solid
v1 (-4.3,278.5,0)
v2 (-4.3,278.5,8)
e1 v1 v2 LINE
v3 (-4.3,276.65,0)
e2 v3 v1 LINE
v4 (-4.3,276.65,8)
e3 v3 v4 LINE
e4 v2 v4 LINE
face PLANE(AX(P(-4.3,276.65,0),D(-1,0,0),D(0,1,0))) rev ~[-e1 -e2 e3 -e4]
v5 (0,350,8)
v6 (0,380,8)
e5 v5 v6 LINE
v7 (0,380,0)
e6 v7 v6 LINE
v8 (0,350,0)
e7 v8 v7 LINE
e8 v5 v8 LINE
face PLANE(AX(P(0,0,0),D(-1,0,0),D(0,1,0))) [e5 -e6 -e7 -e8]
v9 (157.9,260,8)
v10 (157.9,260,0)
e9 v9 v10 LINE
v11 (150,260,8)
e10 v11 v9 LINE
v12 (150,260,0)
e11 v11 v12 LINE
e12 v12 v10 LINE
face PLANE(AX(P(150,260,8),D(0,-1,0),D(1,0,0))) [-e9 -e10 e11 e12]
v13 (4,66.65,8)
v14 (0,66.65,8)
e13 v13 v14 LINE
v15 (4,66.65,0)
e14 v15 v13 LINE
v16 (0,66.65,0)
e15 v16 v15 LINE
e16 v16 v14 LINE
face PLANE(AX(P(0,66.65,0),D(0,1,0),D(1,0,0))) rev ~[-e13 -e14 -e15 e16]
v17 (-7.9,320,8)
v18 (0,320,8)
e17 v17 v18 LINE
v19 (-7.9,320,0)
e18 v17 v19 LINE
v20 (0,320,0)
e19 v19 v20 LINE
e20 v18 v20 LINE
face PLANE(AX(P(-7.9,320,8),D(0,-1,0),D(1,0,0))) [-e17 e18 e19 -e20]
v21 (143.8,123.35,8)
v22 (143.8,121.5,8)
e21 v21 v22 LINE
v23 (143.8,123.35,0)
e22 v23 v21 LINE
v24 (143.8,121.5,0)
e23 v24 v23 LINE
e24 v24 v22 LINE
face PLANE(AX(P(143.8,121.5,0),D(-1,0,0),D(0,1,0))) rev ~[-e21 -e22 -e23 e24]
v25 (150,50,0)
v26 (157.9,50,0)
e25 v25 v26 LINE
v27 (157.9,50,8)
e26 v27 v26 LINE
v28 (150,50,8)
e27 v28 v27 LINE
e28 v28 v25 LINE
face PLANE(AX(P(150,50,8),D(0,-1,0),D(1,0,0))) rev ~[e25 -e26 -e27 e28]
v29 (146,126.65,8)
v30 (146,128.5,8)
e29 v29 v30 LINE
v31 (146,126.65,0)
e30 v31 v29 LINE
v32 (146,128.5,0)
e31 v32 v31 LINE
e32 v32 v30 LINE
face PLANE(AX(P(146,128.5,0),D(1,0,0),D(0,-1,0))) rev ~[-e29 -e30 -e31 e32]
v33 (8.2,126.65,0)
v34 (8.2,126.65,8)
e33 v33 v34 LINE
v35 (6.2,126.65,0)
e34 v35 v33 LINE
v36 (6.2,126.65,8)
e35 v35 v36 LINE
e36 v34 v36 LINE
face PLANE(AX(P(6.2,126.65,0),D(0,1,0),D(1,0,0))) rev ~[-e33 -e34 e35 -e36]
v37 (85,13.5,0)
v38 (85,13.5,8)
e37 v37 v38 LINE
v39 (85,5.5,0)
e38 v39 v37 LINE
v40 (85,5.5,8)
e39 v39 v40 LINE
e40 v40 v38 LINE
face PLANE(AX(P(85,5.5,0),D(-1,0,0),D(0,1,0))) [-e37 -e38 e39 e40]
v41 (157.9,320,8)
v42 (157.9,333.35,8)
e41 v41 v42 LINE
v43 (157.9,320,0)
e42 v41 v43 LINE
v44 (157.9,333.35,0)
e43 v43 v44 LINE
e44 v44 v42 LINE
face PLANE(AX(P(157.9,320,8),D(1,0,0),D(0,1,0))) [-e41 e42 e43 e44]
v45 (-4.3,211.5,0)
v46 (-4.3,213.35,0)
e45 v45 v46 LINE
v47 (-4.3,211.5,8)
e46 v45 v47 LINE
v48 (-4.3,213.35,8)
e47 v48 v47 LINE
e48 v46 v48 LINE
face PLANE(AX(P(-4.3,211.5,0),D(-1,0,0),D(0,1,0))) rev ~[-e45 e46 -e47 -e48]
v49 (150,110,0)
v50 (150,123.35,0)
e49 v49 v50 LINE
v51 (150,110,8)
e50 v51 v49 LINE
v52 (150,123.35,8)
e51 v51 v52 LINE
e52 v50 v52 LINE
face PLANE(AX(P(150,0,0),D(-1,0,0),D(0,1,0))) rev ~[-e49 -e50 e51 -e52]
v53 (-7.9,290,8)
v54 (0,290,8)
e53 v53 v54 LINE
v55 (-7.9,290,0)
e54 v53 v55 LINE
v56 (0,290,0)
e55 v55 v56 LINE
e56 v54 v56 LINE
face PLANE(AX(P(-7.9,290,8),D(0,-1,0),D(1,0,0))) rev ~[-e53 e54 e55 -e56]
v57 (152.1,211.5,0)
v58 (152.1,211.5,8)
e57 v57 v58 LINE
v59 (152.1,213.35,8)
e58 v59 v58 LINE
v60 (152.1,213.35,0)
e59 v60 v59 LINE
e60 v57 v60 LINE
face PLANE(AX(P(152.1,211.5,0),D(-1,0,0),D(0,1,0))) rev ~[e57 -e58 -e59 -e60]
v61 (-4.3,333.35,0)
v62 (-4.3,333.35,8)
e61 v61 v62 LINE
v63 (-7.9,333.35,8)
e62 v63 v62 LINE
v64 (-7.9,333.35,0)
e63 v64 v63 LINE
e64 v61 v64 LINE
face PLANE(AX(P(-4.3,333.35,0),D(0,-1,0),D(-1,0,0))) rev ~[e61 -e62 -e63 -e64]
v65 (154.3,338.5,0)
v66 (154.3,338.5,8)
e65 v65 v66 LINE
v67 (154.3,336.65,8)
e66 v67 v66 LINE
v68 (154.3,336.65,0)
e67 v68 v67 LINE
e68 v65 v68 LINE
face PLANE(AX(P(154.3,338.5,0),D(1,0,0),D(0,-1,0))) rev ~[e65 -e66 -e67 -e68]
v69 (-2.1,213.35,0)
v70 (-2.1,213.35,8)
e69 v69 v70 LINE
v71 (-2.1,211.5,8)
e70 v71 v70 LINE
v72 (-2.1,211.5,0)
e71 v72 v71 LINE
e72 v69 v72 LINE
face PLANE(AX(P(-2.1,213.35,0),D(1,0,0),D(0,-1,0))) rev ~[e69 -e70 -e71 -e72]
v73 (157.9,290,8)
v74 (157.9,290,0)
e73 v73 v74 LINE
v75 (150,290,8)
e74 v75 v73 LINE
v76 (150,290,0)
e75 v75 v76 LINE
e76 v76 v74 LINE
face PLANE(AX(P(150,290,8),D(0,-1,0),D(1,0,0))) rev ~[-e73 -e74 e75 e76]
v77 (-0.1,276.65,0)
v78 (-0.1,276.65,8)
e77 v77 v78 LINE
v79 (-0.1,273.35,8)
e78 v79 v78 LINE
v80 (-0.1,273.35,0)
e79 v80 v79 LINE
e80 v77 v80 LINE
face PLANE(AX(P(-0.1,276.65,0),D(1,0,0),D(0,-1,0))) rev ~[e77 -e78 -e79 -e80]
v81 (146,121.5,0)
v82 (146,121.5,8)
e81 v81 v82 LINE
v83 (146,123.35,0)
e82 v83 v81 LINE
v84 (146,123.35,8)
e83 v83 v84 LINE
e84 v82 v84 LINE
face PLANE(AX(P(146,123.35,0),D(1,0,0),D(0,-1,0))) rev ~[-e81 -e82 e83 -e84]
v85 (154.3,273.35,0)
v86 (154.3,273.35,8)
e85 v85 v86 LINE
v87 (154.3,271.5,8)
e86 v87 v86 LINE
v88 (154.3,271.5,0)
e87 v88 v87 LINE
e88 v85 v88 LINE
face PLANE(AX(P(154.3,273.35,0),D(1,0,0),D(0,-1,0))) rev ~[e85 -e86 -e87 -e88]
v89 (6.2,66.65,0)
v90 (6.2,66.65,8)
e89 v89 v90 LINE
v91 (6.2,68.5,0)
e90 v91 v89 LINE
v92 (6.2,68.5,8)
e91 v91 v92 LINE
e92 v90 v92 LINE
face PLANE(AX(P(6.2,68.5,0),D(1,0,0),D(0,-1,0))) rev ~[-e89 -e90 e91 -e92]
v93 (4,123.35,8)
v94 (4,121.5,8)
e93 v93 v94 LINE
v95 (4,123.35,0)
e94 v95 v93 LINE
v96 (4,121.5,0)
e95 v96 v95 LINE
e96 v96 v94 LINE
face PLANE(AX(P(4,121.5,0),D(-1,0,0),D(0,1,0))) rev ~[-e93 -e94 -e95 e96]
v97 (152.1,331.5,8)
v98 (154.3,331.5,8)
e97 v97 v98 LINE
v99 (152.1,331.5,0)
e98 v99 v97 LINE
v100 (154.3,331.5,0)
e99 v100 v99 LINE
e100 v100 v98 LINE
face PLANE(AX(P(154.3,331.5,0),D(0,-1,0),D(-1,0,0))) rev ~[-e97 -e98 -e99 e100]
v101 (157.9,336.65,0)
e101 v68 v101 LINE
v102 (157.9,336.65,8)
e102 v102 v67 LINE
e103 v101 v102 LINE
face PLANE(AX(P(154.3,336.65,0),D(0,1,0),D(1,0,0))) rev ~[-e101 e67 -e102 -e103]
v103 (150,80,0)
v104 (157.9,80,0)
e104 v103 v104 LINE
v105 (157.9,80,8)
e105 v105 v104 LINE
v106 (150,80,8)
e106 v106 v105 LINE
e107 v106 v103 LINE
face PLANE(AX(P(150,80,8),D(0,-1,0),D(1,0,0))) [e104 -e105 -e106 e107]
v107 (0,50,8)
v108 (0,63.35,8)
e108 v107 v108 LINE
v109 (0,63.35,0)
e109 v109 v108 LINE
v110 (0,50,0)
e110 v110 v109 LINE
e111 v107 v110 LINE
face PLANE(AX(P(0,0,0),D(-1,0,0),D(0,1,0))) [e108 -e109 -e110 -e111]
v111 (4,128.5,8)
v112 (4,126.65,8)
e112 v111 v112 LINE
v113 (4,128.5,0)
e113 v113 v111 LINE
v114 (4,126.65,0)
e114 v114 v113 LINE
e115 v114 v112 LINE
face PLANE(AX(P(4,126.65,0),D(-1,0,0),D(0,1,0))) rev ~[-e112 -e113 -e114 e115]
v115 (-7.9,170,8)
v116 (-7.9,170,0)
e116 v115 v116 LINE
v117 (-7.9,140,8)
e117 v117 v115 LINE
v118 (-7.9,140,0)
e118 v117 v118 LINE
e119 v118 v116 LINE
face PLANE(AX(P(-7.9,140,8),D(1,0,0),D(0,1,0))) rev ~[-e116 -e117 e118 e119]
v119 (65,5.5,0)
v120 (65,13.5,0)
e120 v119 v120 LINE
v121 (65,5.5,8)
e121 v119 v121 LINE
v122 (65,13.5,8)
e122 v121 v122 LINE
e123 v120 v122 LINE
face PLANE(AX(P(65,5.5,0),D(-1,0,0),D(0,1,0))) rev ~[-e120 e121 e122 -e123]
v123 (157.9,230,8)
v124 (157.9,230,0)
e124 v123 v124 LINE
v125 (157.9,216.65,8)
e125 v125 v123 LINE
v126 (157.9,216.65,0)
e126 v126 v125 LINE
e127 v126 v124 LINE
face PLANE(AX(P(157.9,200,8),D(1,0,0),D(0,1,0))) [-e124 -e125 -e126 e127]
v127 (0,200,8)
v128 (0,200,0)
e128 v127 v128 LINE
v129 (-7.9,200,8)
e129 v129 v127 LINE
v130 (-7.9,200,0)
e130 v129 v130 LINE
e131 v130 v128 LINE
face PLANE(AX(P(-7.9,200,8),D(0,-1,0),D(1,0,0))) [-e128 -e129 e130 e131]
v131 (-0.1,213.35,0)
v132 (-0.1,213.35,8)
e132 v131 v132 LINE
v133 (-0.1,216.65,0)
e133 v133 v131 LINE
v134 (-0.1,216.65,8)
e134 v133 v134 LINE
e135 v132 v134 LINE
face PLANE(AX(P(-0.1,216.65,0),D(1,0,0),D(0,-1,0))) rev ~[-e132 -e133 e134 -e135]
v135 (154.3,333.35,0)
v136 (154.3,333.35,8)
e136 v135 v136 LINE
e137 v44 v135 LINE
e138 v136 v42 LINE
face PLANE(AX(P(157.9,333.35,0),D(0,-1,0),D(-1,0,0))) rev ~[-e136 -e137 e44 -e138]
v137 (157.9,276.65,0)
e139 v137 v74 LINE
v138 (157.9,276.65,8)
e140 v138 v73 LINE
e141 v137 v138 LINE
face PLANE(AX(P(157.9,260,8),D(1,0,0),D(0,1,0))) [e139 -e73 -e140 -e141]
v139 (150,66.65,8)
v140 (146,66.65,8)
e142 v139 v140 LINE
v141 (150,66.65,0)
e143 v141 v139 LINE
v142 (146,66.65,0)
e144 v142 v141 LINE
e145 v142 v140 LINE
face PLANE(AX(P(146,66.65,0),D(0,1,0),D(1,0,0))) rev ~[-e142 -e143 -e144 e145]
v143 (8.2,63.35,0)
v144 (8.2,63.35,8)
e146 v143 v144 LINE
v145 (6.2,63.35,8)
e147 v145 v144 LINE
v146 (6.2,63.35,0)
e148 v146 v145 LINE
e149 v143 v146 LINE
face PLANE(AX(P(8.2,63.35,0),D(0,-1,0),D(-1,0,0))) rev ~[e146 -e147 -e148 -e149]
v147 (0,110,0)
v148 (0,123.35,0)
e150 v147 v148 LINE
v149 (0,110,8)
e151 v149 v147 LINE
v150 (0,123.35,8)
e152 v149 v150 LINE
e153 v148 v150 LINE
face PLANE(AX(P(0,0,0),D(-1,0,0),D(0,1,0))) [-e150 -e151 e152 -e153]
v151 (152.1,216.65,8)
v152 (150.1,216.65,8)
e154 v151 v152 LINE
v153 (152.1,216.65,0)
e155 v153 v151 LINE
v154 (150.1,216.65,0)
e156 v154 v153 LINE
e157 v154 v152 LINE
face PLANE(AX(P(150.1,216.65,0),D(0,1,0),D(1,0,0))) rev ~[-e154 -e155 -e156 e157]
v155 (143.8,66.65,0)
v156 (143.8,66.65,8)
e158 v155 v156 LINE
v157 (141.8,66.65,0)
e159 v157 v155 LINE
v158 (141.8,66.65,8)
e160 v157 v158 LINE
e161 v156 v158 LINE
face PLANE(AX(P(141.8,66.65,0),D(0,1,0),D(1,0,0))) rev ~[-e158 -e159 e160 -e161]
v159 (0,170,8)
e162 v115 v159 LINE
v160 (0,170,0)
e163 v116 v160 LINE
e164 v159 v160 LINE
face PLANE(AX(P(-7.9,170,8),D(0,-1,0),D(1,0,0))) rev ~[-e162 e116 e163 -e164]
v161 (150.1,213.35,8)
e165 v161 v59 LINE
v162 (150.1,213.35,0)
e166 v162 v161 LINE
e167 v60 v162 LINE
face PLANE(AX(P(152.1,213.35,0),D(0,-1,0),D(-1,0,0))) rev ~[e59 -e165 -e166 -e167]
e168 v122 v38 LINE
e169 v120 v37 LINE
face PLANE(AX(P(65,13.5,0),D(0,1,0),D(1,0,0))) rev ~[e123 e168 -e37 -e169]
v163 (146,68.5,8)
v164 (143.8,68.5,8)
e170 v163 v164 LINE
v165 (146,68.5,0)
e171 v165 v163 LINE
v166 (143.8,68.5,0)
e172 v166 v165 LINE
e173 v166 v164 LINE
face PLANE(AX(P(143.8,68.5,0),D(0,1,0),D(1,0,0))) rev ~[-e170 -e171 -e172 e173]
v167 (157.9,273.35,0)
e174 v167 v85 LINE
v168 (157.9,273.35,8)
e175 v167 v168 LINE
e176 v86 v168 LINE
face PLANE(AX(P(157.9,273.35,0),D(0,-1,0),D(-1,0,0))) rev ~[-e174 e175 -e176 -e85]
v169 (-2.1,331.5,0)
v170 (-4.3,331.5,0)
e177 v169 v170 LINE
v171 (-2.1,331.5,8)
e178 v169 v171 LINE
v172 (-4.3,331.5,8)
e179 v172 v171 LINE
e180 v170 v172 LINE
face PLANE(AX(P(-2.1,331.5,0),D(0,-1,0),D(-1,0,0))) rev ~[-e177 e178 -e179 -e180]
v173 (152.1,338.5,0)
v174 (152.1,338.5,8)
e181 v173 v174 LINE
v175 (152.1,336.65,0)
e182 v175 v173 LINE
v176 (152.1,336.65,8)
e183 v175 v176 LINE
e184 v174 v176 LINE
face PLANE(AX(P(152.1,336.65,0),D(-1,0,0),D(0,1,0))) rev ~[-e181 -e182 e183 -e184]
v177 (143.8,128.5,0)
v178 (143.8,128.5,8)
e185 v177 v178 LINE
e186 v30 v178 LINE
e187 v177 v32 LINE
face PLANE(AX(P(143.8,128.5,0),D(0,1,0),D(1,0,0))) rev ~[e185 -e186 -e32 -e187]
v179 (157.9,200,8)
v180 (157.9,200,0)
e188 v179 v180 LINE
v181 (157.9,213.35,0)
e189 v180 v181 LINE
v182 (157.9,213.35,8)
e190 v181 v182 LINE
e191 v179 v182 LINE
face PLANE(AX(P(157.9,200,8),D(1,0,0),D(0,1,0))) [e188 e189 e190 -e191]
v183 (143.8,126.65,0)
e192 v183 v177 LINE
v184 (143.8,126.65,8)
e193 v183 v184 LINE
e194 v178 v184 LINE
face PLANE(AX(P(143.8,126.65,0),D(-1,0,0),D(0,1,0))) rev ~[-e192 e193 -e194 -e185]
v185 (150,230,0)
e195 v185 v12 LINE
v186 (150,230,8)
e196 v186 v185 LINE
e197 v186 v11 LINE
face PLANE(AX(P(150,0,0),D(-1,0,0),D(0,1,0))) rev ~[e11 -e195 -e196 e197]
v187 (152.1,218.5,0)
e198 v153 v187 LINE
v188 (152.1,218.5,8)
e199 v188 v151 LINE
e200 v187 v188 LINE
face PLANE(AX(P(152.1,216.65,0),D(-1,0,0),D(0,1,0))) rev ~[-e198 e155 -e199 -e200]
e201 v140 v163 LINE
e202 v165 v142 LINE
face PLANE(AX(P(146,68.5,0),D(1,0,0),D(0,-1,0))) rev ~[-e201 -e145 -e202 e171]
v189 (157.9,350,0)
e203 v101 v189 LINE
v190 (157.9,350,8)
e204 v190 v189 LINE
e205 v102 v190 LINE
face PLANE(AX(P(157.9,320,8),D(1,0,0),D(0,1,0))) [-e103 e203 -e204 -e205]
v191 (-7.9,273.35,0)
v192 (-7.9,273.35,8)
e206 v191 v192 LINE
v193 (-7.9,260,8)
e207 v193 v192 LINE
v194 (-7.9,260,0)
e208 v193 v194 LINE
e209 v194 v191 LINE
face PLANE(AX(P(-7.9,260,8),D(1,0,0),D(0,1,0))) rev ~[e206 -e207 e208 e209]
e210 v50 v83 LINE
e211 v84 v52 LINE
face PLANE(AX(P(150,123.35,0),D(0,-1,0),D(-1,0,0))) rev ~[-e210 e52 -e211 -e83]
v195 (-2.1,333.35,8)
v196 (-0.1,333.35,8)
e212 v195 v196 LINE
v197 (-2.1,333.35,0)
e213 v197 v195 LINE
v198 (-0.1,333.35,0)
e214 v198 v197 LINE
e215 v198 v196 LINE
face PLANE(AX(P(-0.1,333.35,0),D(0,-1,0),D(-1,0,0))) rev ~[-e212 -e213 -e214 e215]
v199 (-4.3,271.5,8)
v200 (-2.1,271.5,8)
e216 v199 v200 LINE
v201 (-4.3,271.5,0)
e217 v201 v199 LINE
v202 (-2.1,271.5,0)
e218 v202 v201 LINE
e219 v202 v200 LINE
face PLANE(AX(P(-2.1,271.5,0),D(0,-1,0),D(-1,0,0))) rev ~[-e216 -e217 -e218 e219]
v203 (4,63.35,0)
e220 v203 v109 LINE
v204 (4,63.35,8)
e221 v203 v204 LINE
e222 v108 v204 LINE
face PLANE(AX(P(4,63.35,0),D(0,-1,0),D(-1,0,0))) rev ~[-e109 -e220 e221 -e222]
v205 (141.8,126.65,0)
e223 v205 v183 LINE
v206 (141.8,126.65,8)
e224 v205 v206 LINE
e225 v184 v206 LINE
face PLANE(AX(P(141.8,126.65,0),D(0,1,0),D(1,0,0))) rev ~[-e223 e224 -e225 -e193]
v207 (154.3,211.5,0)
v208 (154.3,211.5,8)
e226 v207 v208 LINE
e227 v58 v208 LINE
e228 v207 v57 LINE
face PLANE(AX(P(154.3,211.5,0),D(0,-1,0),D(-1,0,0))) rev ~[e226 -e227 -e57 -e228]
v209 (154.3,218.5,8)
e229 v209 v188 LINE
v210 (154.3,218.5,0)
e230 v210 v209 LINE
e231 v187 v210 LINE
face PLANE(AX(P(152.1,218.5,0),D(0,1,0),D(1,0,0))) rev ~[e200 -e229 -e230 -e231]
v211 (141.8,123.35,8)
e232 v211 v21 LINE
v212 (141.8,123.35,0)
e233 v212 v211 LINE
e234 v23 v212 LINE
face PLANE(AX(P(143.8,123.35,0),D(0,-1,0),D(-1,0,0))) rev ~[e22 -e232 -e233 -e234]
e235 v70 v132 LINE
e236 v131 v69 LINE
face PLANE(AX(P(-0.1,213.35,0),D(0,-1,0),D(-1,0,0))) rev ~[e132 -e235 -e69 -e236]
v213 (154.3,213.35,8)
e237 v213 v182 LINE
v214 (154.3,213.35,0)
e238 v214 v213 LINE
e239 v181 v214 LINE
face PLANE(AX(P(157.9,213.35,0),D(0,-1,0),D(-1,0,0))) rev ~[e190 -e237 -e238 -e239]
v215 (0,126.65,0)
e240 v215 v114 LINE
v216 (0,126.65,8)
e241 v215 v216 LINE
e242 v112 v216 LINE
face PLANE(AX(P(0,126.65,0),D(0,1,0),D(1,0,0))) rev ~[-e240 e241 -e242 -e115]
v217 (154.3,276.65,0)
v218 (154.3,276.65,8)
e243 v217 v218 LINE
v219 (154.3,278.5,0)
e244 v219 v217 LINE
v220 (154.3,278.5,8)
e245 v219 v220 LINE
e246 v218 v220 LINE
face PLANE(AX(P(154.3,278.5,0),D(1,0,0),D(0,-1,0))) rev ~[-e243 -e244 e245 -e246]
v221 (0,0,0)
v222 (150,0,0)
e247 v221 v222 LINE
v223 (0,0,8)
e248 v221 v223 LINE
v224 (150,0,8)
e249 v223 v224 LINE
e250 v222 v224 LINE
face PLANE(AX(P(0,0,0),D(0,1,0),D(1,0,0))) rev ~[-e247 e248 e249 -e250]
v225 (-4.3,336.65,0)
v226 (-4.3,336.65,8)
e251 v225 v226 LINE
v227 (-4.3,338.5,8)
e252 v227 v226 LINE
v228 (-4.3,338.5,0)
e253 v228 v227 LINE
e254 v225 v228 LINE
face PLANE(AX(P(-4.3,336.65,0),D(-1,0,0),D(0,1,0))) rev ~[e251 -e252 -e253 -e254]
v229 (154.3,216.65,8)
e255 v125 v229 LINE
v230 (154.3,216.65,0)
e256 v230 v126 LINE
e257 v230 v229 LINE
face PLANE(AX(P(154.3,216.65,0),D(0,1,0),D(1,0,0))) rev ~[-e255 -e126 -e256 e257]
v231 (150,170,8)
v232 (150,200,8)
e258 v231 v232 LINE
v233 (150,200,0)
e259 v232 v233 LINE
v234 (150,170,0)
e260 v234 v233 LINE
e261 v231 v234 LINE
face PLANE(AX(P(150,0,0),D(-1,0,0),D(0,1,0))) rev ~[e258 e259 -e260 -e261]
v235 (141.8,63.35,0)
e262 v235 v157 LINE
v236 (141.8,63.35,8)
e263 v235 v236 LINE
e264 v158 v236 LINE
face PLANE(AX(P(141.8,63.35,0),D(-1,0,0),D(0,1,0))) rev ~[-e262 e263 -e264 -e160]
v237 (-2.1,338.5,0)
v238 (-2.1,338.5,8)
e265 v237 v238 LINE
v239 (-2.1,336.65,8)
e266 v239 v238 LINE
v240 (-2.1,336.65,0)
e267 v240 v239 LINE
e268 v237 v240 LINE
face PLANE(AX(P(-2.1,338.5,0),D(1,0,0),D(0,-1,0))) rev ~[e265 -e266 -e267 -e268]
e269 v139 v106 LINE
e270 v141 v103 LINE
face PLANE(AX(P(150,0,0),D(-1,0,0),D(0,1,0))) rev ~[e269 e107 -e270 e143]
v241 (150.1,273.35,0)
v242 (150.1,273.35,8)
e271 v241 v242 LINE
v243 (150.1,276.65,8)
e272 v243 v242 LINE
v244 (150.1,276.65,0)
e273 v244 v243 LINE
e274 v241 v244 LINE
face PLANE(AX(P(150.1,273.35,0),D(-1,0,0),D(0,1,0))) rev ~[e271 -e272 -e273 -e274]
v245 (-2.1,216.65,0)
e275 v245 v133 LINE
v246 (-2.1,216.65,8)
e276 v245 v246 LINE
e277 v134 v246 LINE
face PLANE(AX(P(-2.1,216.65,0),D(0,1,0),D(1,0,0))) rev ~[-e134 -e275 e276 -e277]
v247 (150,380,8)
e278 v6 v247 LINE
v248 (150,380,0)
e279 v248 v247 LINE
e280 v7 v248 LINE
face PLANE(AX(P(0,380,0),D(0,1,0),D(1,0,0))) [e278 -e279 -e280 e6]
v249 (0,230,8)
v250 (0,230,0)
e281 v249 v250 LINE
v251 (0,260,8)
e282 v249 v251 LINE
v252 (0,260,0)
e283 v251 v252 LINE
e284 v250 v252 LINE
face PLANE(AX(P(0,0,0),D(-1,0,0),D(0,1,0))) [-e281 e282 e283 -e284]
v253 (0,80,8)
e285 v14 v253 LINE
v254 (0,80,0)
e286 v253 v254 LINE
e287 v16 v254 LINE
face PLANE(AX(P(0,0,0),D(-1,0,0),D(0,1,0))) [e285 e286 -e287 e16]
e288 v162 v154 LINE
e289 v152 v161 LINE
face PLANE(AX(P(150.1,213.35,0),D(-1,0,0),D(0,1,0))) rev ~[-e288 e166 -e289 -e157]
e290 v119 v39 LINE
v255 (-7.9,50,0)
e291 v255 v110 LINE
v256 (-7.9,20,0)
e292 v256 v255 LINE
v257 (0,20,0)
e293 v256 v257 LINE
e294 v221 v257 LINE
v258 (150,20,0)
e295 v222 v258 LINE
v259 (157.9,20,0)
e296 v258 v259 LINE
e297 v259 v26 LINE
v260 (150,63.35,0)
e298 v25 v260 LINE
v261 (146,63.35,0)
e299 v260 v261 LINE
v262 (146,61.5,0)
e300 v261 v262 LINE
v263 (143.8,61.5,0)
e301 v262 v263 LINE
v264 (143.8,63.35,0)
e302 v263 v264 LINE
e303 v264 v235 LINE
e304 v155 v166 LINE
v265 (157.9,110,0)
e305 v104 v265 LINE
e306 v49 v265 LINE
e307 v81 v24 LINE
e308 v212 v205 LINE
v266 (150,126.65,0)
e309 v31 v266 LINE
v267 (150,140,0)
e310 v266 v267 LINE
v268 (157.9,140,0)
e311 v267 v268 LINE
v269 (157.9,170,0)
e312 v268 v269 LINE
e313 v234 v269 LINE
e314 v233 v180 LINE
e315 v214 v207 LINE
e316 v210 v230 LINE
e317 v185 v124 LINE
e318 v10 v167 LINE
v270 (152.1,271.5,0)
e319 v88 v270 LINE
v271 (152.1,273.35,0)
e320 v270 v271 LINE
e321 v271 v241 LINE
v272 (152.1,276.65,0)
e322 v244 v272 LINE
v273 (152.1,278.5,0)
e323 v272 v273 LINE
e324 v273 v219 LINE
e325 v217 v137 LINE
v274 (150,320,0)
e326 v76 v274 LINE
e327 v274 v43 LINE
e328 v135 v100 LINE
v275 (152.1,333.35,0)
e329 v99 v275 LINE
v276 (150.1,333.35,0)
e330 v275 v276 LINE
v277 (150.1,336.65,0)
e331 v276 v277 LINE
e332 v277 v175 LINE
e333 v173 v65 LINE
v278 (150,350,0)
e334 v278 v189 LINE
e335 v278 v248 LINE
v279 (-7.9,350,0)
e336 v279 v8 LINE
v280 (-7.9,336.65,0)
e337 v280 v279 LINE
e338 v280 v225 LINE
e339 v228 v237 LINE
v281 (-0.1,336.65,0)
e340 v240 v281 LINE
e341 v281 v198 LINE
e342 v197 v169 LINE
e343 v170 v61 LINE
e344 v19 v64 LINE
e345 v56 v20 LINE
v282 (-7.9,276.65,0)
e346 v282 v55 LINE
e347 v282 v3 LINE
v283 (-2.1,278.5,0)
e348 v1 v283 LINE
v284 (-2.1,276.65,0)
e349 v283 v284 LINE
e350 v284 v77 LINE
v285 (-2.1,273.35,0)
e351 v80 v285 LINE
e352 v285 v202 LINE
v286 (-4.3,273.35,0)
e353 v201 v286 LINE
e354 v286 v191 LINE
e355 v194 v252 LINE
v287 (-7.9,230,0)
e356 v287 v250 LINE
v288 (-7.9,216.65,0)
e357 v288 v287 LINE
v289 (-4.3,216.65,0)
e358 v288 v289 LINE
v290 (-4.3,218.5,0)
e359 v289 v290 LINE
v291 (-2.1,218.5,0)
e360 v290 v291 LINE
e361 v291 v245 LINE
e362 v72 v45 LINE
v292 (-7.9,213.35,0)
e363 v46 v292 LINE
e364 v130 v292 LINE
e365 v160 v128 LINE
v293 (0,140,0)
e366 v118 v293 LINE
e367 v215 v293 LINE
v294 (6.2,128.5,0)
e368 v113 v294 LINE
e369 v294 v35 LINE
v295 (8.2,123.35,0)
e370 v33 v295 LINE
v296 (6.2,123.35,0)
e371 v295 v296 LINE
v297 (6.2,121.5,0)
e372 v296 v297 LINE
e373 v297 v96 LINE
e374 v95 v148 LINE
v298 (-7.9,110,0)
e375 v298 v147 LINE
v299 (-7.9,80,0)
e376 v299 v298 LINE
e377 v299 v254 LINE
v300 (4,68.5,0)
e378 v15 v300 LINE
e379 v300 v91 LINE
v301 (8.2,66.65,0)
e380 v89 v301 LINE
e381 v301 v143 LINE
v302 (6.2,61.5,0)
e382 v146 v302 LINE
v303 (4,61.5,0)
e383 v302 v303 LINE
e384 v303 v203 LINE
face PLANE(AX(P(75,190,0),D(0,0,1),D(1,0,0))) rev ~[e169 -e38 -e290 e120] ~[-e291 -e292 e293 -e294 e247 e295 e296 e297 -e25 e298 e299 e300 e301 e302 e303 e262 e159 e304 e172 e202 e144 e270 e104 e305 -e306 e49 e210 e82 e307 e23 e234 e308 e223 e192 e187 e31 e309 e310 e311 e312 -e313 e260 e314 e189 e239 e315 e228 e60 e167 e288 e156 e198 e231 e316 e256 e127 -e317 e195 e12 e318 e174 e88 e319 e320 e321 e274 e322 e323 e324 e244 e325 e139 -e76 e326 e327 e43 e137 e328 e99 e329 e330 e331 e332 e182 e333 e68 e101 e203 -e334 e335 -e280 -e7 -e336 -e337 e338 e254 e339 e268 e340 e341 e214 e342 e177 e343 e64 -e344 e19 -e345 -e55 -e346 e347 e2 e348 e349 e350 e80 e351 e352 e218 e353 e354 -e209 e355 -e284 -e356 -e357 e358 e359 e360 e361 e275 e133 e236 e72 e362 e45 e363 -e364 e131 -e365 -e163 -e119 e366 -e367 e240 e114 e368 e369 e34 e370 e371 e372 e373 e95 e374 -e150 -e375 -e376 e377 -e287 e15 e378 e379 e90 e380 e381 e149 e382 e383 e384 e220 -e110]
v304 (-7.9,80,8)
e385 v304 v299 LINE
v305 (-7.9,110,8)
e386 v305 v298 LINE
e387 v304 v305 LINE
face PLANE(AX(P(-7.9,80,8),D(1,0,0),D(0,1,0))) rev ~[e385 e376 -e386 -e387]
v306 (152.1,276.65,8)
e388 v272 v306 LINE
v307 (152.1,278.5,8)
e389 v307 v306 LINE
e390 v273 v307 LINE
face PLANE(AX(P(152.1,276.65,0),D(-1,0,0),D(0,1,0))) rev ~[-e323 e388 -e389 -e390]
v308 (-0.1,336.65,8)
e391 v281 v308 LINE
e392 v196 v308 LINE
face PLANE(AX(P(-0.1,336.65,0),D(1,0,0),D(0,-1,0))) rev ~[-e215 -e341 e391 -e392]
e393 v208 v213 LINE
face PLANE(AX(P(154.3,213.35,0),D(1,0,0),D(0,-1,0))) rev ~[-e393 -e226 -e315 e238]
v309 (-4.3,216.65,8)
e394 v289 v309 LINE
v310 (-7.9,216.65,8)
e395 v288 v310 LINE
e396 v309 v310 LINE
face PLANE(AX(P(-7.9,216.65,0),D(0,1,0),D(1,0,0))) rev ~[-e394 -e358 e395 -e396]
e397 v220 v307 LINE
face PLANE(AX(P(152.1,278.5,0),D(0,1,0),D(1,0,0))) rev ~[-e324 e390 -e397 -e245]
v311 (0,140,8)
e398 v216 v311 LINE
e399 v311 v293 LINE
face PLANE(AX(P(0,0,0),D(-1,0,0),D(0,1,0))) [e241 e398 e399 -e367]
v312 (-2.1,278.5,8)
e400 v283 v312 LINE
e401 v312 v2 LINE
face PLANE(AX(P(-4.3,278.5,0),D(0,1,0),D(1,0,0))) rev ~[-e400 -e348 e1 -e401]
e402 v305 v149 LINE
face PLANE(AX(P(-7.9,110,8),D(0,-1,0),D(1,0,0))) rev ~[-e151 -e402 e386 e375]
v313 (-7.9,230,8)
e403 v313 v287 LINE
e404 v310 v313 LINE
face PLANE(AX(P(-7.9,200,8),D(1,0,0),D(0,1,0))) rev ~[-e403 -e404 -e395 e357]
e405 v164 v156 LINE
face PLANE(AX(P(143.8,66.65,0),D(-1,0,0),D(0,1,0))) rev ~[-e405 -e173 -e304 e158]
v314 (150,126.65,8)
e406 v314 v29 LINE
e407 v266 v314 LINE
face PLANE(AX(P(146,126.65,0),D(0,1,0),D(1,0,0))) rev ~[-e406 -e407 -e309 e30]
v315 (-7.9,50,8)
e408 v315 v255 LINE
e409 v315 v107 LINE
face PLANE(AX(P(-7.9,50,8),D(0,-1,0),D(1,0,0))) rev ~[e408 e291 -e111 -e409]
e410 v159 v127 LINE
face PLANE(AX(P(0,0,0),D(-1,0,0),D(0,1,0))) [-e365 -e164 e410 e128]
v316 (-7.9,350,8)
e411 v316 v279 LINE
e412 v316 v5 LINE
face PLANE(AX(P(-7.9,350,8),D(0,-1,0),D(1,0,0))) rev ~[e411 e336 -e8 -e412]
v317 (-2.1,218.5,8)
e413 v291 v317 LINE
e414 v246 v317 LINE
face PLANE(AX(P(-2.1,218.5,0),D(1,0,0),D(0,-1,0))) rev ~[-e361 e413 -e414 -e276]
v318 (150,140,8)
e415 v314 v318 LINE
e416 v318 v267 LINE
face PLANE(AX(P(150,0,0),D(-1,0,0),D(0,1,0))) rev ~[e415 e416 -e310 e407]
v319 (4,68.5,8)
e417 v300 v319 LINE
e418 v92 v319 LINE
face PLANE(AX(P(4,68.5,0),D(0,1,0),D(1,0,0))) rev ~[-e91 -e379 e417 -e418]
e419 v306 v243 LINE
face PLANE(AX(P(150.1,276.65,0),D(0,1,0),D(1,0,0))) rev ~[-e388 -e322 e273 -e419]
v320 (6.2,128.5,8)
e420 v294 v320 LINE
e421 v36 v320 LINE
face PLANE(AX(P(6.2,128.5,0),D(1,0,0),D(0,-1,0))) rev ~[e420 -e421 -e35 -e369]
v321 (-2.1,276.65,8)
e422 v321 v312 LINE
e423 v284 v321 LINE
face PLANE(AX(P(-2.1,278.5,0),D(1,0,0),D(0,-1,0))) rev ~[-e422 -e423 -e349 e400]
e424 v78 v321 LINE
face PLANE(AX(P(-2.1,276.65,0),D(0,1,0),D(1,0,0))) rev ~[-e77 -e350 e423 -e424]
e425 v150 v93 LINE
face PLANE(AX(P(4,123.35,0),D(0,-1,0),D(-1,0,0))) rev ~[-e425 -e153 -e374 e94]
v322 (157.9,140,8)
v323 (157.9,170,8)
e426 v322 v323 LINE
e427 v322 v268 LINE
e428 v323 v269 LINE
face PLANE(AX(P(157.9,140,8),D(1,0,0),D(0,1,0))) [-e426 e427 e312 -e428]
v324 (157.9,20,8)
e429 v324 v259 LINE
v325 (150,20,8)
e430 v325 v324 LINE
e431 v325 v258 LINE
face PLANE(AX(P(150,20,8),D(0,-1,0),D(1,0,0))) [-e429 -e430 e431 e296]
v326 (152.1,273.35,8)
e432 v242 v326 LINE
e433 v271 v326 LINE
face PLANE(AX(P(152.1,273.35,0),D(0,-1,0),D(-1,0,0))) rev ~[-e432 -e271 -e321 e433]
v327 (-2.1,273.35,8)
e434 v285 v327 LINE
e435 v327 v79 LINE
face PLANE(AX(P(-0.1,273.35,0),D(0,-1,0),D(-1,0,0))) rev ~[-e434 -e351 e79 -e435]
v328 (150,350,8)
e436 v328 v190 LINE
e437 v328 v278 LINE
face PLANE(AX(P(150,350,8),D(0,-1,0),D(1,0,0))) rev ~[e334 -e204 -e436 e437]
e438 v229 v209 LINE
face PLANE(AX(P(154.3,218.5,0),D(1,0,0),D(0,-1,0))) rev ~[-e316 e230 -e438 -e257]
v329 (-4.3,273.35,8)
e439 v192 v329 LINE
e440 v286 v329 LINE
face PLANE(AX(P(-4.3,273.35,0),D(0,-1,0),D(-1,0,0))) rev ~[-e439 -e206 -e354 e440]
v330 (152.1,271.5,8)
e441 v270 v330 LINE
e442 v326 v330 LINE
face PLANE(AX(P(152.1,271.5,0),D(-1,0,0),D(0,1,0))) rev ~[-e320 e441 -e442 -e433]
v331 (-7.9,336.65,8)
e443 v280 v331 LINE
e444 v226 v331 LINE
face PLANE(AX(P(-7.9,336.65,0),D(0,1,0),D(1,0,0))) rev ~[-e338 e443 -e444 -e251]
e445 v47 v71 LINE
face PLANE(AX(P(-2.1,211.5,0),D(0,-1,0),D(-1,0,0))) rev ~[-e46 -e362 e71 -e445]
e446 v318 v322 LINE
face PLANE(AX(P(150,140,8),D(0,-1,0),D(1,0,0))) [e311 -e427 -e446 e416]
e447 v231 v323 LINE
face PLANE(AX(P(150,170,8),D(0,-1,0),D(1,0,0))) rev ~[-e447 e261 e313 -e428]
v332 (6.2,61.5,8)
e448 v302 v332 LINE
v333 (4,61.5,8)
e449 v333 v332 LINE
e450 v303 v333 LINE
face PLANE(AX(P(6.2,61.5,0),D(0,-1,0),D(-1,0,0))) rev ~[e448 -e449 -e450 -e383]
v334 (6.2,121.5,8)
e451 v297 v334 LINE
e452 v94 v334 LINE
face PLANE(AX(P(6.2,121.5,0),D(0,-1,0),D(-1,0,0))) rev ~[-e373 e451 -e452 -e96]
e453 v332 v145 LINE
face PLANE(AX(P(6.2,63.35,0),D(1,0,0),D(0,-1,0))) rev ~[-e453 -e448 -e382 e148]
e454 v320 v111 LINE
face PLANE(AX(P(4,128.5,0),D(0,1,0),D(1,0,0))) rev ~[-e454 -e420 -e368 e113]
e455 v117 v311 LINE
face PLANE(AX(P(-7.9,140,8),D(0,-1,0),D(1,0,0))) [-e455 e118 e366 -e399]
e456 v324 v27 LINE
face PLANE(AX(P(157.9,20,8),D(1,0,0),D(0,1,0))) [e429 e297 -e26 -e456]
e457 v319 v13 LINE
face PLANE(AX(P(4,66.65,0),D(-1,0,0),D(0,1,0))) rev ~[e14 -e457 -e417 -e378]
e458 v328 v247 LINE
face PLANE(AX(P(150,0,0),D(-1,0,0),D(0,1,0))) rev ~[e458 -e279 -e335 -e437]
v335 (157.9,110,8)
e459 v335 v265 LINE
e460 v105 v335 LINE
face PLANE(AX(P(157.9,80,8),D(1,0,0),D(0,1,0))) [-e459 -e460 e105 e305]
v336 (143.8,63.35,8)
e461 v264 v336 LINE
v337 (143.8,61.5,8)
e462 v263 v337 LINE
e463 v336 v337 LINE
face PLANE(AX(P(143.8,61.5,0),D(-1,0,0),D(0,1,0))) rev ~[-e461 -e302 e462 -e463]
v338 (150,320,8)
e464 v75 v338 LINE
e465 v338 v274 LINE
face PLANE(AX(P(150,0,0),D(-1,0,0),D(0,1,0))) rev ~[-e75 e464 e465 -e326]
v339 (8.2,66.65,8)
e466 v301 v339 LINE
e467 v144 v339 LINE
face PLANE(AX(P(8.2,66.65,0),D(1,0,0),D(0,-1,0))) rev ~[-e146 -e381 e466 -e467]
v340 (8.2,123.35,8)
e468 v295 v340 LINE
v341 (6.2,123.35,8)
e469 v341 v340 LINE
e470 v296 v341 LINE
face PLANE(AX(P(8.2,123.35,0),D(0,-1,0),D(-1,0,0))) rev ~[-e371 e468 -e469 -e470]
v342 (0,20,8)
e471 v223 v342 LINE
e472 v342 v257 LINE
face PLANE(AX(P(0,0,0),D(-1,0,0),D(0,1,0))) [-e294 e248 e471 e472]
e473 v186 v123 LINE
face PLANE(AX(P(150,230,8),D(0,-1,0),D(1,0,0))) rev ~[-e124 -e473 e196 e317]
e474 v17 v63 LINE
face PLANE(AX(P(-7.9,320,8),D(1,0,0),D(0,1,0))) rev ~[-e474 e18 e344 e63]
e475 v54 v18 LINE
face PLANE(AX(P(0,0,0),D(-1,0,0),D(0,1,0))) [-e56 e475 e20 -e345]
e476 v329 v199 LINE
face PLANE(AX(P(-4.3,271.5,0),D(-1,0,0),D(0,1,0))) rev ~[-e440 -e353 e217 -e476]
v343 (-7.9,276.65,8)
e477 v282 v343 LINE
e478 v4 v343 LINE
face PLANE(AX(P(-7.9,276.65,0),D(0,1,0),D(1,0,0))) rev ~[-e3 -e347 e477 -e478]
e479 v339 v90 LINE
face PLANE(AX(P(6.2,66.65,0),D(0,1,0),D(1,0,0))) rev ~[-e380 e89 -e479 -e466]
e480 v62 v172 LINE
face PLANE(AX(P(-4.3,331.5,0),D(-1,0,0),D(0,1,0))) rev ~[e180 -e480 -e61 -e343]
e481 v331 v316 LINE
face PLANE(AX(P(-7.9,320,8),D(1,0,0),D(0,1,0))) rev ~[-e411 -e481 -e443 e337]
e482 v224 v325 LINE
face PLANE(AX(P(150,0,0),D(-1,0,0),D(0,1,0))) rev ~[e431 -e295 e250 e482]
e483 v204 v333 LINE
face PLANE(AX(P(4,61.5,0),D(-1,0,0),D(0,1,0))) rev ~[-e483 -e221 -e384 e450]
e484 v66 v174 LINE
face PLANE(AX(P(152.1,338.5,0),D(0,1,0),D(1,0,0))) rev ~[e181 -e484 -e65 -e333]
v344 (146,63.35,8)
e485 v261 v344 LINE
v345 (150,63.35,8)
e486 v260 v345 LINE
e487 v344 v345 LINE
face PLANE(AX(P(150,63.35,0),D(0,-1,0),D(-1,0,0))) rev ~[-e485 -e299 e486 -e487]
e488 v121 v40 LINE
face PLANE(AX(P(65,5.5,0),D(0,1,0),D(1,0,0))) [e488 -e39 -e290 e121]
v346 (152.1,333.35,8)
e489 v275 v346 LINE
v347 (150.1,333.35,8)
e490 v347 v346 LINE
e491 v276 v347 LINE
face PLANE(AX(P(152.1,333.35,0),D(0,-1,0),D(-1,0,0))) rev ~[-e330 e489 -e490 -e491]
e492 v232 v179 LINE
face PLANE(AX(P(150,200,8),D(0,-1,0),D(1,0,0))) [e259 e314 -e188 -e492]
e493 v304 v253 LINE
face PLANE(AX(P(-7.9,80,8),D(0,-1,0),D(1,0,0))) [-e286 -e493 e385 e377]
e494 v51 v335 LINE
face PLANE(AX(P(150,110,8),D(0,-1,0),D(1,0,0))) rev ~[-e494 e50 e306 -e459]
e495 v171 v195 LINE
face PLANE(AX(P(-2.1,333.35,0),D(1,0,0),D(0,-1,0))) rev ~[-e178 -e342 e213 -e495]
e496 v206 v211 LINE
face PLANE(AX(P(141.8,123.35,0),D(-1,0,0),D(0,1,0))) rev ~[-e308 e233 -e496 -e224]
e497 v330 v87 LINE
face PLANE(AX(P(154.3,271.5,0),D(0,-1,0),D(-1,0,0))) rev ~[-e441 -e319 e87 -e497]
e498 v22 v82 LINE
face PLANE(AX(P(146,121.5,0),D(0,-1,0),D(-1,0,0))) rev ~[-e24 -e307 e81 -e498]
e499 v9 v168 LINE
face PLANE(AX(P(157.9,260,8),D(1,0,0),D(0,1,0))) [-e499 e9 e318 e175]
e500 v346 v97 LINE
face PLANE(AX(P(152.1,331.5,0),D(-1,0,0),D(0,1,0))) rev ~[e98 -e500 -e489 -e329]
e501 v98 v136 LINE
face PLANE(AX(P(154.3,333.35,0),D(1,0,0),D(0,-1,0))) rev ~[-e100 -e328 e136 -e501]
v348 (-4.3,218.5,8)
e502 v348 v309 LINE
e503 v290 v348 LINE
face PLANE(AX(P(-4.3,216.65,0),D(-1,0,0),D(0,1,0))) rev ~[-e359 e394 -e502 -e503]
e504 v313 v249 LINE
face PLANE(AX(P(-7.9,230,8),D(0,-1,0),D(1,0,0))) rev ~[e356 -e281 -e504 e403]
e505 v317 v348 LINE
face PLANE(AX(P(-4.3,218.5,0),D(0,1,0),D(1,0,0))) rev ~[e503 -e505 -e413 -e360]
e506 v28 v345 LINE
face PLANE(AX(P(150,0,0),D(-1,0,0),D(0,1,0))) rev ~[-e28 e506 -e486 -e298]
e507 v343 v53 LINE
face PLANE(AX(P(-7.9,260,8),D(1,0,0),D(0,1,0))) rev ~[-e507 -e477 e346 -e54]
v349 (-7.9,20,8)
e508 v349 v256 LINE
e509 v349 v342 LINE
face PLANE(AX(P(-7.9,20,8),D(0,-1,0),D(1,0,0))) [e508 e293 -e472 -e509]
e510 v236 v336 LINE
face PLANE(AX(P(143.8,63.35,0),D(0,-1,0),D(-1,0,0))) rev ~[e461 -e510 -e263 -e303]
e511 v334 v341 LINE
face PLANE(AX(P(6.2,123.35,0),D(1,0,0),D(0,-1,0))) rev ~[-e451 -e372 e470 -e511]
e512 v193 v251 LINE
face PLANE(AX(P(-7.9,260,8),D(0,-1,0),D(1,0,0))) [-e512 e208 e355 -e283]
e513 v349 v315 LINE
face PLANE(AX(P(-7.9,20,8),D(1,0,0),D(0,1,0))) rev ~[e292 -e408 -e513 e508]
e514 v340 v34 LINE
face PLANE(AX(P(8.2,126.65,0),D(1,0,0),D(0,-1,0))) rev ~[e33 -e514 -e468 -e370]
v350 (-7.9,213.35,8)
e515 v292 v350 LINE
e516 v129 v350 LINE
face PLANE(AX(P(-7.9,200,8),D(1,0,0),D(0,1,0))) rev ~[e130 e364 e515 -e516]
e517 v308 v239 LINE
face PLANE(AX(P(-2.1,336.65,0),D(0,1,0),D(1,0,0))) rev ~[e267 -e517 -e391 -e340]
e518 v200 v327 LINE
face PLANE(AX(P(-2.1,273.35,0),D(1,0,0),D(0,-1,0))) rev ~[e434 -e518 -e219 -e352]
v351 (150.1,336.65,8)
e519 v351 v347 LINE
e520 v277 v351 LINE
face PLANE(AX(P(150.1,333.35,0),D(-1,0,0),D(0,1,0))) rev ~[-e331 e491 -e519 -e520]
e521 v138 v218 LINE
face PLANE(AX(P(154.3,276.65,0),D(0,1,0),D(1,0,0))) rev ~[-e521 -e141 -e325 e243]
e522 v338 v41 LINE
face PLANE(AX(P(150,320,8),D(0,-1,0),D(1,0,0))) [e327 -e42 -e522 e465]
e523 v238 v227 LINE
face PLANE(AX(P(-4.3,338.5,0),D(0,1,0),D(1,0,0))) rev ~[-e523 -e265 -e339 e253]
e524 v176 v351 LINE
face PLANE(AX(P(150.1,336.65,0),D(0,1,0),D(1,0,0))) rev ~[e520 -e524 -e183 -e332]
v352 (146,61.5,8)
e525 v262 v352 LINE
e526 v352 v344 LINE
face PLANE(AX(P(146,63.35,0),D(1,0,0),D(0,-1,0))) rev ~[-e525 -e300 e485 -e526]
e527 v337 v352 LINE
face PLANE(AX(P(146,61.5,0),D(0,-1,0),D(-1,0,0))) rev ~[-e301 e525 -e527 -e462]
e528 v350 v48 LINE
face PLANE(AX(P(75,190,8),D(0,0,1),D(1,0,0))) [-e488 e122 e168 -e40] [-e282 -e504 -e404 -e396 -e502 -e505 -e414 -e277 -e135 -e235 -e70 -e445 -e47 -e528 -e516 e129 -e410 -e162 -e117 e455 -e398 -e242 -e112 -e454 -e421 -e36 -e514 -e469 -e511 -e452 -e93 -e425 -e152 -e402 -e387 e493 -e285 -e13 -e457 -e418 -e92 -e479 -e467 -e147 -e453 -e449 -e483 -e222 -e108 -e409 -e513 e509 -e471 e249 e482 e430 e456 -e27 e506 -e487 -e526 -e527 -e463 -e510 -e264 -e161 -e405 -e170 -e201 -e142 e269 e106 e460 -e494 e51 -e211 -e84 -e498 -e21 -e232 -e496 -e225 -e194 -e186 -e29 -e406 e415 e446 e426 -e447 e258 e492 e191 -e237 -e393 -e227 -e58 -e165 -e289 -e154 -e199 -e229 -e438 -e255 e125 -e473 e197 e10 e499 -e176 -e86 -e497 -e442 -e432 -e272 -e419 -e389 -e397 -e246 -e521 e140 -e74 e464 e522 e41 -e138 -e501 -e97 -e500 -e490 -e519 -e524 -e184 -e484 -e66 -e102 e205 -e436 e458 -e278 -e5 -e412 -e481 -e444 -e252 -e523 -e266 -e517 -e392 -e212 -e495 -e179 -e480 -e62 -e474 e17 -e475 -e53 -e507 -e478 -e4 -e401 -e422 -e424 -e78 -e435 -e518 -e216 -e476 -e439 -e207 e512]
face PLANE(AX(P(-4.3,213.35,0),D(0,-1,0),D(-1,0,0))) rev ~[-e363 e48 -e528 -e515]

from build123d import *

# Parameters (mm, degrees)
SKETCH1_W           = 150
SKETCH1_H           = 380
SKETCH1_W_2         = 20
SKETCH1_H_2         = 8
BOSS_EXTRUDE1_DEPTH = 8
SKETCH2_W           = 7.9
SKETCH2_H           = 30
BOSS_EXTRUDE2_DEPTH = 8
CUT_EXTRUDE2_DEPTH  = 9


with BuildPart() as part:
    # Sketch1 → Boss-Extrude1 (new body)
    with BuildSketch(Plane.XY):
        with Locations((75, 190)):
            Rectangle(SKETCH1_W, SKETCH1_H)
        with Locations((75, 9.5)):
            Rectangle(SKETCH1_W_2, SKETCH1_H_2, mode=Mode.SUBTRACT)
    extrude(amount=BOSS_EXTRUDE1_DEPTH)

    # Sketch2 → Boss-Extrude2 (add)
    with BuildSketch(Plane.XY.offset(8)):
        with Locations((153.95, 335)):
            Rectangle(SKETCH2_W, SKETCH2_H)
        with Locations((-3.95, 335)):
            Rectangle(SKETCH2_W, SKETCH2_H)
        with Locations((153.95, 275)):
            Rectangle(SKETCH2_W, SKETCH2_H)
        with Locations((-3.95, 275)):
            Rectangle(SKETCH2_W, SKETCH2_H)
        with Locations((153.95, 215)):
            Rectangle(SKETCH2_W, SKETCH2_H)
        with Locations((-3.95, 215)):
            Rectangle(SKETCH2_W, SKETCH2_H)
        with Locations((153.95, 155)):
            Rectangle(SKETCH2_W, SKETCH2_H)
        with Locations((-3.95, 155)):
            Rectangle(SKETCH2_W, SKETCH2_H)
        with Locations((153.95, 95)):
            Rectangle(SKETCH2_W, SKETCH2_H)
        with Locations((-3.95, 95)):
            Rectangle(SKETCH2_W, SKETCH2_H)
        with Locations((153.95, 35)):
            Rectangle(SKETCH2_W, SKETCH2_H)
        with Locations((-3.95, 35)):
            Rectangle(SKETCH2_W, SKETCH2_H)
    extrude(amount=-BOSS_EXTRUDE2_DEPTH)

    # Sketch3 → Cut-Extrude2 (cut, through all)
    with BuildSketch(Plane(origin=(0, 0, 0), x_dir=(-1, 0, 0), z_dir=(0, 0, -1))):
        Polygon((7.9, 273.35), (7.9, 276.65), (4.3, 276.65), (4.3, 278.5), (2.1, 278.5), (2.1, 276.65), (0.1, 276.65), (0.1, 273.35), (2.1, 273.35), (2.1, 271.5), (4.3, 271.5), (4.3, 273.35), align=None)
        Polygon((7.9, 333.35), (7.9, 336.65), (4.3, 336.65), (4.3, 338.5), (2.1, 338.5), (2.1, 336.65), (0.1, 336.65), (0.1, 333.35), (2.1, 333.35), (2.1, 331.5), (4.3, 331.5), (4.3, 333.35), align=None)
        Polygon((7.9, 213.35), (7.9, 216.65), (4.3, 216.65), (4.3, 218.5), (2.1, 218.5), (2.1, 216.65), (0.1, 216.65), (0.1, 213.35), (2.1, 213.35), (2.1, 211.5), (4.3, 211.5), (4.3, 213.35), align=None)
        Polygon((-157.9, 213.35), (-154.3, 213.35), (-154.3, 211.5), (-152.1, 211.5), (-152.1, 213.35), (-150.1, 213.35), (-150.1, 216.65), (-152.1, 216.65), (-152.1, 218.5), (-154.3, 218.5), (-154.3, 216.65), (-157.9, 216.65), align=None)
        Polygon((-157.9, 273.35), (-154.3, 273.35), (-154.3, 271.5), (-152.1, 271.5), (-152.1, 273.35), (-150.1, 273.35), (-150.1, 276.65), (-152.1, 276.65), (-152.1, 278.5), (-154.3, 278.5), (-154.3, 276.65), (-157.9, 276.65), align=None)
        Polygon((-157.9, 333.35), (-154.3, 333.35), (-154.3, 331.5), (-152.1, 331.5), (-152.1, 333.35), (-150.1, 333.35), (-150.1, 336.65), (-152.1, 336.65), (-152.1, 338.5), (-154.3, 338.5), (-154.3, 336.65), (-157.9, 336.65), align=None)
        Polygon((0, 123.35), (0, 126.65), (-4, 126.65), (-4, 128.5), (-6.2, 128.5), (-6.2, 126.65), (-8.2, 126.65), (-8.2, 123.35), (-6.2, 123.35), (-6.2, 121.5), (-4, 121.5), (-4, 123.35), align=None)
        Polygon((0, 63.35), (0, 66.65), (-4, 66.65), (-4, 68.5), (-6.2, 68.5), (-6.2, 66.65), (-8.2, 66.65), (-8.2, 63.35), (-6.2, 63.35), (-6.2, 61.5), (-4, 61.5), (-4, 63.35), align=None)
        Polygon((-150, 63.35), (-146, 63.35), (-146, 61.5), (-143.8, 61.5), (-143.8, 63.35), (-141.8, 63.35), (-141.8, 66.65), (-143.8, 66.65), (-143.8, 68.5), (-146, 68.5), (-146, 66.65), (-150, 66.65), align=None)
        Polygon((-150, 123.35), (-146, 123.35), (-146, 121.5), (-143.8, 121.5), (-143.8, 123.35), (-141.8, 123.35), (-141.8, 126.65), (-143.8, 126.65), (-143.8, 128.5), (-146, 128.5), (-146, 126.65), (-150, 126.65), align=None)
    extrude(amount=-CUT_EXTRUDE2_DEPTH, mode=Mode.SUBTRACT)


solid = part.part
